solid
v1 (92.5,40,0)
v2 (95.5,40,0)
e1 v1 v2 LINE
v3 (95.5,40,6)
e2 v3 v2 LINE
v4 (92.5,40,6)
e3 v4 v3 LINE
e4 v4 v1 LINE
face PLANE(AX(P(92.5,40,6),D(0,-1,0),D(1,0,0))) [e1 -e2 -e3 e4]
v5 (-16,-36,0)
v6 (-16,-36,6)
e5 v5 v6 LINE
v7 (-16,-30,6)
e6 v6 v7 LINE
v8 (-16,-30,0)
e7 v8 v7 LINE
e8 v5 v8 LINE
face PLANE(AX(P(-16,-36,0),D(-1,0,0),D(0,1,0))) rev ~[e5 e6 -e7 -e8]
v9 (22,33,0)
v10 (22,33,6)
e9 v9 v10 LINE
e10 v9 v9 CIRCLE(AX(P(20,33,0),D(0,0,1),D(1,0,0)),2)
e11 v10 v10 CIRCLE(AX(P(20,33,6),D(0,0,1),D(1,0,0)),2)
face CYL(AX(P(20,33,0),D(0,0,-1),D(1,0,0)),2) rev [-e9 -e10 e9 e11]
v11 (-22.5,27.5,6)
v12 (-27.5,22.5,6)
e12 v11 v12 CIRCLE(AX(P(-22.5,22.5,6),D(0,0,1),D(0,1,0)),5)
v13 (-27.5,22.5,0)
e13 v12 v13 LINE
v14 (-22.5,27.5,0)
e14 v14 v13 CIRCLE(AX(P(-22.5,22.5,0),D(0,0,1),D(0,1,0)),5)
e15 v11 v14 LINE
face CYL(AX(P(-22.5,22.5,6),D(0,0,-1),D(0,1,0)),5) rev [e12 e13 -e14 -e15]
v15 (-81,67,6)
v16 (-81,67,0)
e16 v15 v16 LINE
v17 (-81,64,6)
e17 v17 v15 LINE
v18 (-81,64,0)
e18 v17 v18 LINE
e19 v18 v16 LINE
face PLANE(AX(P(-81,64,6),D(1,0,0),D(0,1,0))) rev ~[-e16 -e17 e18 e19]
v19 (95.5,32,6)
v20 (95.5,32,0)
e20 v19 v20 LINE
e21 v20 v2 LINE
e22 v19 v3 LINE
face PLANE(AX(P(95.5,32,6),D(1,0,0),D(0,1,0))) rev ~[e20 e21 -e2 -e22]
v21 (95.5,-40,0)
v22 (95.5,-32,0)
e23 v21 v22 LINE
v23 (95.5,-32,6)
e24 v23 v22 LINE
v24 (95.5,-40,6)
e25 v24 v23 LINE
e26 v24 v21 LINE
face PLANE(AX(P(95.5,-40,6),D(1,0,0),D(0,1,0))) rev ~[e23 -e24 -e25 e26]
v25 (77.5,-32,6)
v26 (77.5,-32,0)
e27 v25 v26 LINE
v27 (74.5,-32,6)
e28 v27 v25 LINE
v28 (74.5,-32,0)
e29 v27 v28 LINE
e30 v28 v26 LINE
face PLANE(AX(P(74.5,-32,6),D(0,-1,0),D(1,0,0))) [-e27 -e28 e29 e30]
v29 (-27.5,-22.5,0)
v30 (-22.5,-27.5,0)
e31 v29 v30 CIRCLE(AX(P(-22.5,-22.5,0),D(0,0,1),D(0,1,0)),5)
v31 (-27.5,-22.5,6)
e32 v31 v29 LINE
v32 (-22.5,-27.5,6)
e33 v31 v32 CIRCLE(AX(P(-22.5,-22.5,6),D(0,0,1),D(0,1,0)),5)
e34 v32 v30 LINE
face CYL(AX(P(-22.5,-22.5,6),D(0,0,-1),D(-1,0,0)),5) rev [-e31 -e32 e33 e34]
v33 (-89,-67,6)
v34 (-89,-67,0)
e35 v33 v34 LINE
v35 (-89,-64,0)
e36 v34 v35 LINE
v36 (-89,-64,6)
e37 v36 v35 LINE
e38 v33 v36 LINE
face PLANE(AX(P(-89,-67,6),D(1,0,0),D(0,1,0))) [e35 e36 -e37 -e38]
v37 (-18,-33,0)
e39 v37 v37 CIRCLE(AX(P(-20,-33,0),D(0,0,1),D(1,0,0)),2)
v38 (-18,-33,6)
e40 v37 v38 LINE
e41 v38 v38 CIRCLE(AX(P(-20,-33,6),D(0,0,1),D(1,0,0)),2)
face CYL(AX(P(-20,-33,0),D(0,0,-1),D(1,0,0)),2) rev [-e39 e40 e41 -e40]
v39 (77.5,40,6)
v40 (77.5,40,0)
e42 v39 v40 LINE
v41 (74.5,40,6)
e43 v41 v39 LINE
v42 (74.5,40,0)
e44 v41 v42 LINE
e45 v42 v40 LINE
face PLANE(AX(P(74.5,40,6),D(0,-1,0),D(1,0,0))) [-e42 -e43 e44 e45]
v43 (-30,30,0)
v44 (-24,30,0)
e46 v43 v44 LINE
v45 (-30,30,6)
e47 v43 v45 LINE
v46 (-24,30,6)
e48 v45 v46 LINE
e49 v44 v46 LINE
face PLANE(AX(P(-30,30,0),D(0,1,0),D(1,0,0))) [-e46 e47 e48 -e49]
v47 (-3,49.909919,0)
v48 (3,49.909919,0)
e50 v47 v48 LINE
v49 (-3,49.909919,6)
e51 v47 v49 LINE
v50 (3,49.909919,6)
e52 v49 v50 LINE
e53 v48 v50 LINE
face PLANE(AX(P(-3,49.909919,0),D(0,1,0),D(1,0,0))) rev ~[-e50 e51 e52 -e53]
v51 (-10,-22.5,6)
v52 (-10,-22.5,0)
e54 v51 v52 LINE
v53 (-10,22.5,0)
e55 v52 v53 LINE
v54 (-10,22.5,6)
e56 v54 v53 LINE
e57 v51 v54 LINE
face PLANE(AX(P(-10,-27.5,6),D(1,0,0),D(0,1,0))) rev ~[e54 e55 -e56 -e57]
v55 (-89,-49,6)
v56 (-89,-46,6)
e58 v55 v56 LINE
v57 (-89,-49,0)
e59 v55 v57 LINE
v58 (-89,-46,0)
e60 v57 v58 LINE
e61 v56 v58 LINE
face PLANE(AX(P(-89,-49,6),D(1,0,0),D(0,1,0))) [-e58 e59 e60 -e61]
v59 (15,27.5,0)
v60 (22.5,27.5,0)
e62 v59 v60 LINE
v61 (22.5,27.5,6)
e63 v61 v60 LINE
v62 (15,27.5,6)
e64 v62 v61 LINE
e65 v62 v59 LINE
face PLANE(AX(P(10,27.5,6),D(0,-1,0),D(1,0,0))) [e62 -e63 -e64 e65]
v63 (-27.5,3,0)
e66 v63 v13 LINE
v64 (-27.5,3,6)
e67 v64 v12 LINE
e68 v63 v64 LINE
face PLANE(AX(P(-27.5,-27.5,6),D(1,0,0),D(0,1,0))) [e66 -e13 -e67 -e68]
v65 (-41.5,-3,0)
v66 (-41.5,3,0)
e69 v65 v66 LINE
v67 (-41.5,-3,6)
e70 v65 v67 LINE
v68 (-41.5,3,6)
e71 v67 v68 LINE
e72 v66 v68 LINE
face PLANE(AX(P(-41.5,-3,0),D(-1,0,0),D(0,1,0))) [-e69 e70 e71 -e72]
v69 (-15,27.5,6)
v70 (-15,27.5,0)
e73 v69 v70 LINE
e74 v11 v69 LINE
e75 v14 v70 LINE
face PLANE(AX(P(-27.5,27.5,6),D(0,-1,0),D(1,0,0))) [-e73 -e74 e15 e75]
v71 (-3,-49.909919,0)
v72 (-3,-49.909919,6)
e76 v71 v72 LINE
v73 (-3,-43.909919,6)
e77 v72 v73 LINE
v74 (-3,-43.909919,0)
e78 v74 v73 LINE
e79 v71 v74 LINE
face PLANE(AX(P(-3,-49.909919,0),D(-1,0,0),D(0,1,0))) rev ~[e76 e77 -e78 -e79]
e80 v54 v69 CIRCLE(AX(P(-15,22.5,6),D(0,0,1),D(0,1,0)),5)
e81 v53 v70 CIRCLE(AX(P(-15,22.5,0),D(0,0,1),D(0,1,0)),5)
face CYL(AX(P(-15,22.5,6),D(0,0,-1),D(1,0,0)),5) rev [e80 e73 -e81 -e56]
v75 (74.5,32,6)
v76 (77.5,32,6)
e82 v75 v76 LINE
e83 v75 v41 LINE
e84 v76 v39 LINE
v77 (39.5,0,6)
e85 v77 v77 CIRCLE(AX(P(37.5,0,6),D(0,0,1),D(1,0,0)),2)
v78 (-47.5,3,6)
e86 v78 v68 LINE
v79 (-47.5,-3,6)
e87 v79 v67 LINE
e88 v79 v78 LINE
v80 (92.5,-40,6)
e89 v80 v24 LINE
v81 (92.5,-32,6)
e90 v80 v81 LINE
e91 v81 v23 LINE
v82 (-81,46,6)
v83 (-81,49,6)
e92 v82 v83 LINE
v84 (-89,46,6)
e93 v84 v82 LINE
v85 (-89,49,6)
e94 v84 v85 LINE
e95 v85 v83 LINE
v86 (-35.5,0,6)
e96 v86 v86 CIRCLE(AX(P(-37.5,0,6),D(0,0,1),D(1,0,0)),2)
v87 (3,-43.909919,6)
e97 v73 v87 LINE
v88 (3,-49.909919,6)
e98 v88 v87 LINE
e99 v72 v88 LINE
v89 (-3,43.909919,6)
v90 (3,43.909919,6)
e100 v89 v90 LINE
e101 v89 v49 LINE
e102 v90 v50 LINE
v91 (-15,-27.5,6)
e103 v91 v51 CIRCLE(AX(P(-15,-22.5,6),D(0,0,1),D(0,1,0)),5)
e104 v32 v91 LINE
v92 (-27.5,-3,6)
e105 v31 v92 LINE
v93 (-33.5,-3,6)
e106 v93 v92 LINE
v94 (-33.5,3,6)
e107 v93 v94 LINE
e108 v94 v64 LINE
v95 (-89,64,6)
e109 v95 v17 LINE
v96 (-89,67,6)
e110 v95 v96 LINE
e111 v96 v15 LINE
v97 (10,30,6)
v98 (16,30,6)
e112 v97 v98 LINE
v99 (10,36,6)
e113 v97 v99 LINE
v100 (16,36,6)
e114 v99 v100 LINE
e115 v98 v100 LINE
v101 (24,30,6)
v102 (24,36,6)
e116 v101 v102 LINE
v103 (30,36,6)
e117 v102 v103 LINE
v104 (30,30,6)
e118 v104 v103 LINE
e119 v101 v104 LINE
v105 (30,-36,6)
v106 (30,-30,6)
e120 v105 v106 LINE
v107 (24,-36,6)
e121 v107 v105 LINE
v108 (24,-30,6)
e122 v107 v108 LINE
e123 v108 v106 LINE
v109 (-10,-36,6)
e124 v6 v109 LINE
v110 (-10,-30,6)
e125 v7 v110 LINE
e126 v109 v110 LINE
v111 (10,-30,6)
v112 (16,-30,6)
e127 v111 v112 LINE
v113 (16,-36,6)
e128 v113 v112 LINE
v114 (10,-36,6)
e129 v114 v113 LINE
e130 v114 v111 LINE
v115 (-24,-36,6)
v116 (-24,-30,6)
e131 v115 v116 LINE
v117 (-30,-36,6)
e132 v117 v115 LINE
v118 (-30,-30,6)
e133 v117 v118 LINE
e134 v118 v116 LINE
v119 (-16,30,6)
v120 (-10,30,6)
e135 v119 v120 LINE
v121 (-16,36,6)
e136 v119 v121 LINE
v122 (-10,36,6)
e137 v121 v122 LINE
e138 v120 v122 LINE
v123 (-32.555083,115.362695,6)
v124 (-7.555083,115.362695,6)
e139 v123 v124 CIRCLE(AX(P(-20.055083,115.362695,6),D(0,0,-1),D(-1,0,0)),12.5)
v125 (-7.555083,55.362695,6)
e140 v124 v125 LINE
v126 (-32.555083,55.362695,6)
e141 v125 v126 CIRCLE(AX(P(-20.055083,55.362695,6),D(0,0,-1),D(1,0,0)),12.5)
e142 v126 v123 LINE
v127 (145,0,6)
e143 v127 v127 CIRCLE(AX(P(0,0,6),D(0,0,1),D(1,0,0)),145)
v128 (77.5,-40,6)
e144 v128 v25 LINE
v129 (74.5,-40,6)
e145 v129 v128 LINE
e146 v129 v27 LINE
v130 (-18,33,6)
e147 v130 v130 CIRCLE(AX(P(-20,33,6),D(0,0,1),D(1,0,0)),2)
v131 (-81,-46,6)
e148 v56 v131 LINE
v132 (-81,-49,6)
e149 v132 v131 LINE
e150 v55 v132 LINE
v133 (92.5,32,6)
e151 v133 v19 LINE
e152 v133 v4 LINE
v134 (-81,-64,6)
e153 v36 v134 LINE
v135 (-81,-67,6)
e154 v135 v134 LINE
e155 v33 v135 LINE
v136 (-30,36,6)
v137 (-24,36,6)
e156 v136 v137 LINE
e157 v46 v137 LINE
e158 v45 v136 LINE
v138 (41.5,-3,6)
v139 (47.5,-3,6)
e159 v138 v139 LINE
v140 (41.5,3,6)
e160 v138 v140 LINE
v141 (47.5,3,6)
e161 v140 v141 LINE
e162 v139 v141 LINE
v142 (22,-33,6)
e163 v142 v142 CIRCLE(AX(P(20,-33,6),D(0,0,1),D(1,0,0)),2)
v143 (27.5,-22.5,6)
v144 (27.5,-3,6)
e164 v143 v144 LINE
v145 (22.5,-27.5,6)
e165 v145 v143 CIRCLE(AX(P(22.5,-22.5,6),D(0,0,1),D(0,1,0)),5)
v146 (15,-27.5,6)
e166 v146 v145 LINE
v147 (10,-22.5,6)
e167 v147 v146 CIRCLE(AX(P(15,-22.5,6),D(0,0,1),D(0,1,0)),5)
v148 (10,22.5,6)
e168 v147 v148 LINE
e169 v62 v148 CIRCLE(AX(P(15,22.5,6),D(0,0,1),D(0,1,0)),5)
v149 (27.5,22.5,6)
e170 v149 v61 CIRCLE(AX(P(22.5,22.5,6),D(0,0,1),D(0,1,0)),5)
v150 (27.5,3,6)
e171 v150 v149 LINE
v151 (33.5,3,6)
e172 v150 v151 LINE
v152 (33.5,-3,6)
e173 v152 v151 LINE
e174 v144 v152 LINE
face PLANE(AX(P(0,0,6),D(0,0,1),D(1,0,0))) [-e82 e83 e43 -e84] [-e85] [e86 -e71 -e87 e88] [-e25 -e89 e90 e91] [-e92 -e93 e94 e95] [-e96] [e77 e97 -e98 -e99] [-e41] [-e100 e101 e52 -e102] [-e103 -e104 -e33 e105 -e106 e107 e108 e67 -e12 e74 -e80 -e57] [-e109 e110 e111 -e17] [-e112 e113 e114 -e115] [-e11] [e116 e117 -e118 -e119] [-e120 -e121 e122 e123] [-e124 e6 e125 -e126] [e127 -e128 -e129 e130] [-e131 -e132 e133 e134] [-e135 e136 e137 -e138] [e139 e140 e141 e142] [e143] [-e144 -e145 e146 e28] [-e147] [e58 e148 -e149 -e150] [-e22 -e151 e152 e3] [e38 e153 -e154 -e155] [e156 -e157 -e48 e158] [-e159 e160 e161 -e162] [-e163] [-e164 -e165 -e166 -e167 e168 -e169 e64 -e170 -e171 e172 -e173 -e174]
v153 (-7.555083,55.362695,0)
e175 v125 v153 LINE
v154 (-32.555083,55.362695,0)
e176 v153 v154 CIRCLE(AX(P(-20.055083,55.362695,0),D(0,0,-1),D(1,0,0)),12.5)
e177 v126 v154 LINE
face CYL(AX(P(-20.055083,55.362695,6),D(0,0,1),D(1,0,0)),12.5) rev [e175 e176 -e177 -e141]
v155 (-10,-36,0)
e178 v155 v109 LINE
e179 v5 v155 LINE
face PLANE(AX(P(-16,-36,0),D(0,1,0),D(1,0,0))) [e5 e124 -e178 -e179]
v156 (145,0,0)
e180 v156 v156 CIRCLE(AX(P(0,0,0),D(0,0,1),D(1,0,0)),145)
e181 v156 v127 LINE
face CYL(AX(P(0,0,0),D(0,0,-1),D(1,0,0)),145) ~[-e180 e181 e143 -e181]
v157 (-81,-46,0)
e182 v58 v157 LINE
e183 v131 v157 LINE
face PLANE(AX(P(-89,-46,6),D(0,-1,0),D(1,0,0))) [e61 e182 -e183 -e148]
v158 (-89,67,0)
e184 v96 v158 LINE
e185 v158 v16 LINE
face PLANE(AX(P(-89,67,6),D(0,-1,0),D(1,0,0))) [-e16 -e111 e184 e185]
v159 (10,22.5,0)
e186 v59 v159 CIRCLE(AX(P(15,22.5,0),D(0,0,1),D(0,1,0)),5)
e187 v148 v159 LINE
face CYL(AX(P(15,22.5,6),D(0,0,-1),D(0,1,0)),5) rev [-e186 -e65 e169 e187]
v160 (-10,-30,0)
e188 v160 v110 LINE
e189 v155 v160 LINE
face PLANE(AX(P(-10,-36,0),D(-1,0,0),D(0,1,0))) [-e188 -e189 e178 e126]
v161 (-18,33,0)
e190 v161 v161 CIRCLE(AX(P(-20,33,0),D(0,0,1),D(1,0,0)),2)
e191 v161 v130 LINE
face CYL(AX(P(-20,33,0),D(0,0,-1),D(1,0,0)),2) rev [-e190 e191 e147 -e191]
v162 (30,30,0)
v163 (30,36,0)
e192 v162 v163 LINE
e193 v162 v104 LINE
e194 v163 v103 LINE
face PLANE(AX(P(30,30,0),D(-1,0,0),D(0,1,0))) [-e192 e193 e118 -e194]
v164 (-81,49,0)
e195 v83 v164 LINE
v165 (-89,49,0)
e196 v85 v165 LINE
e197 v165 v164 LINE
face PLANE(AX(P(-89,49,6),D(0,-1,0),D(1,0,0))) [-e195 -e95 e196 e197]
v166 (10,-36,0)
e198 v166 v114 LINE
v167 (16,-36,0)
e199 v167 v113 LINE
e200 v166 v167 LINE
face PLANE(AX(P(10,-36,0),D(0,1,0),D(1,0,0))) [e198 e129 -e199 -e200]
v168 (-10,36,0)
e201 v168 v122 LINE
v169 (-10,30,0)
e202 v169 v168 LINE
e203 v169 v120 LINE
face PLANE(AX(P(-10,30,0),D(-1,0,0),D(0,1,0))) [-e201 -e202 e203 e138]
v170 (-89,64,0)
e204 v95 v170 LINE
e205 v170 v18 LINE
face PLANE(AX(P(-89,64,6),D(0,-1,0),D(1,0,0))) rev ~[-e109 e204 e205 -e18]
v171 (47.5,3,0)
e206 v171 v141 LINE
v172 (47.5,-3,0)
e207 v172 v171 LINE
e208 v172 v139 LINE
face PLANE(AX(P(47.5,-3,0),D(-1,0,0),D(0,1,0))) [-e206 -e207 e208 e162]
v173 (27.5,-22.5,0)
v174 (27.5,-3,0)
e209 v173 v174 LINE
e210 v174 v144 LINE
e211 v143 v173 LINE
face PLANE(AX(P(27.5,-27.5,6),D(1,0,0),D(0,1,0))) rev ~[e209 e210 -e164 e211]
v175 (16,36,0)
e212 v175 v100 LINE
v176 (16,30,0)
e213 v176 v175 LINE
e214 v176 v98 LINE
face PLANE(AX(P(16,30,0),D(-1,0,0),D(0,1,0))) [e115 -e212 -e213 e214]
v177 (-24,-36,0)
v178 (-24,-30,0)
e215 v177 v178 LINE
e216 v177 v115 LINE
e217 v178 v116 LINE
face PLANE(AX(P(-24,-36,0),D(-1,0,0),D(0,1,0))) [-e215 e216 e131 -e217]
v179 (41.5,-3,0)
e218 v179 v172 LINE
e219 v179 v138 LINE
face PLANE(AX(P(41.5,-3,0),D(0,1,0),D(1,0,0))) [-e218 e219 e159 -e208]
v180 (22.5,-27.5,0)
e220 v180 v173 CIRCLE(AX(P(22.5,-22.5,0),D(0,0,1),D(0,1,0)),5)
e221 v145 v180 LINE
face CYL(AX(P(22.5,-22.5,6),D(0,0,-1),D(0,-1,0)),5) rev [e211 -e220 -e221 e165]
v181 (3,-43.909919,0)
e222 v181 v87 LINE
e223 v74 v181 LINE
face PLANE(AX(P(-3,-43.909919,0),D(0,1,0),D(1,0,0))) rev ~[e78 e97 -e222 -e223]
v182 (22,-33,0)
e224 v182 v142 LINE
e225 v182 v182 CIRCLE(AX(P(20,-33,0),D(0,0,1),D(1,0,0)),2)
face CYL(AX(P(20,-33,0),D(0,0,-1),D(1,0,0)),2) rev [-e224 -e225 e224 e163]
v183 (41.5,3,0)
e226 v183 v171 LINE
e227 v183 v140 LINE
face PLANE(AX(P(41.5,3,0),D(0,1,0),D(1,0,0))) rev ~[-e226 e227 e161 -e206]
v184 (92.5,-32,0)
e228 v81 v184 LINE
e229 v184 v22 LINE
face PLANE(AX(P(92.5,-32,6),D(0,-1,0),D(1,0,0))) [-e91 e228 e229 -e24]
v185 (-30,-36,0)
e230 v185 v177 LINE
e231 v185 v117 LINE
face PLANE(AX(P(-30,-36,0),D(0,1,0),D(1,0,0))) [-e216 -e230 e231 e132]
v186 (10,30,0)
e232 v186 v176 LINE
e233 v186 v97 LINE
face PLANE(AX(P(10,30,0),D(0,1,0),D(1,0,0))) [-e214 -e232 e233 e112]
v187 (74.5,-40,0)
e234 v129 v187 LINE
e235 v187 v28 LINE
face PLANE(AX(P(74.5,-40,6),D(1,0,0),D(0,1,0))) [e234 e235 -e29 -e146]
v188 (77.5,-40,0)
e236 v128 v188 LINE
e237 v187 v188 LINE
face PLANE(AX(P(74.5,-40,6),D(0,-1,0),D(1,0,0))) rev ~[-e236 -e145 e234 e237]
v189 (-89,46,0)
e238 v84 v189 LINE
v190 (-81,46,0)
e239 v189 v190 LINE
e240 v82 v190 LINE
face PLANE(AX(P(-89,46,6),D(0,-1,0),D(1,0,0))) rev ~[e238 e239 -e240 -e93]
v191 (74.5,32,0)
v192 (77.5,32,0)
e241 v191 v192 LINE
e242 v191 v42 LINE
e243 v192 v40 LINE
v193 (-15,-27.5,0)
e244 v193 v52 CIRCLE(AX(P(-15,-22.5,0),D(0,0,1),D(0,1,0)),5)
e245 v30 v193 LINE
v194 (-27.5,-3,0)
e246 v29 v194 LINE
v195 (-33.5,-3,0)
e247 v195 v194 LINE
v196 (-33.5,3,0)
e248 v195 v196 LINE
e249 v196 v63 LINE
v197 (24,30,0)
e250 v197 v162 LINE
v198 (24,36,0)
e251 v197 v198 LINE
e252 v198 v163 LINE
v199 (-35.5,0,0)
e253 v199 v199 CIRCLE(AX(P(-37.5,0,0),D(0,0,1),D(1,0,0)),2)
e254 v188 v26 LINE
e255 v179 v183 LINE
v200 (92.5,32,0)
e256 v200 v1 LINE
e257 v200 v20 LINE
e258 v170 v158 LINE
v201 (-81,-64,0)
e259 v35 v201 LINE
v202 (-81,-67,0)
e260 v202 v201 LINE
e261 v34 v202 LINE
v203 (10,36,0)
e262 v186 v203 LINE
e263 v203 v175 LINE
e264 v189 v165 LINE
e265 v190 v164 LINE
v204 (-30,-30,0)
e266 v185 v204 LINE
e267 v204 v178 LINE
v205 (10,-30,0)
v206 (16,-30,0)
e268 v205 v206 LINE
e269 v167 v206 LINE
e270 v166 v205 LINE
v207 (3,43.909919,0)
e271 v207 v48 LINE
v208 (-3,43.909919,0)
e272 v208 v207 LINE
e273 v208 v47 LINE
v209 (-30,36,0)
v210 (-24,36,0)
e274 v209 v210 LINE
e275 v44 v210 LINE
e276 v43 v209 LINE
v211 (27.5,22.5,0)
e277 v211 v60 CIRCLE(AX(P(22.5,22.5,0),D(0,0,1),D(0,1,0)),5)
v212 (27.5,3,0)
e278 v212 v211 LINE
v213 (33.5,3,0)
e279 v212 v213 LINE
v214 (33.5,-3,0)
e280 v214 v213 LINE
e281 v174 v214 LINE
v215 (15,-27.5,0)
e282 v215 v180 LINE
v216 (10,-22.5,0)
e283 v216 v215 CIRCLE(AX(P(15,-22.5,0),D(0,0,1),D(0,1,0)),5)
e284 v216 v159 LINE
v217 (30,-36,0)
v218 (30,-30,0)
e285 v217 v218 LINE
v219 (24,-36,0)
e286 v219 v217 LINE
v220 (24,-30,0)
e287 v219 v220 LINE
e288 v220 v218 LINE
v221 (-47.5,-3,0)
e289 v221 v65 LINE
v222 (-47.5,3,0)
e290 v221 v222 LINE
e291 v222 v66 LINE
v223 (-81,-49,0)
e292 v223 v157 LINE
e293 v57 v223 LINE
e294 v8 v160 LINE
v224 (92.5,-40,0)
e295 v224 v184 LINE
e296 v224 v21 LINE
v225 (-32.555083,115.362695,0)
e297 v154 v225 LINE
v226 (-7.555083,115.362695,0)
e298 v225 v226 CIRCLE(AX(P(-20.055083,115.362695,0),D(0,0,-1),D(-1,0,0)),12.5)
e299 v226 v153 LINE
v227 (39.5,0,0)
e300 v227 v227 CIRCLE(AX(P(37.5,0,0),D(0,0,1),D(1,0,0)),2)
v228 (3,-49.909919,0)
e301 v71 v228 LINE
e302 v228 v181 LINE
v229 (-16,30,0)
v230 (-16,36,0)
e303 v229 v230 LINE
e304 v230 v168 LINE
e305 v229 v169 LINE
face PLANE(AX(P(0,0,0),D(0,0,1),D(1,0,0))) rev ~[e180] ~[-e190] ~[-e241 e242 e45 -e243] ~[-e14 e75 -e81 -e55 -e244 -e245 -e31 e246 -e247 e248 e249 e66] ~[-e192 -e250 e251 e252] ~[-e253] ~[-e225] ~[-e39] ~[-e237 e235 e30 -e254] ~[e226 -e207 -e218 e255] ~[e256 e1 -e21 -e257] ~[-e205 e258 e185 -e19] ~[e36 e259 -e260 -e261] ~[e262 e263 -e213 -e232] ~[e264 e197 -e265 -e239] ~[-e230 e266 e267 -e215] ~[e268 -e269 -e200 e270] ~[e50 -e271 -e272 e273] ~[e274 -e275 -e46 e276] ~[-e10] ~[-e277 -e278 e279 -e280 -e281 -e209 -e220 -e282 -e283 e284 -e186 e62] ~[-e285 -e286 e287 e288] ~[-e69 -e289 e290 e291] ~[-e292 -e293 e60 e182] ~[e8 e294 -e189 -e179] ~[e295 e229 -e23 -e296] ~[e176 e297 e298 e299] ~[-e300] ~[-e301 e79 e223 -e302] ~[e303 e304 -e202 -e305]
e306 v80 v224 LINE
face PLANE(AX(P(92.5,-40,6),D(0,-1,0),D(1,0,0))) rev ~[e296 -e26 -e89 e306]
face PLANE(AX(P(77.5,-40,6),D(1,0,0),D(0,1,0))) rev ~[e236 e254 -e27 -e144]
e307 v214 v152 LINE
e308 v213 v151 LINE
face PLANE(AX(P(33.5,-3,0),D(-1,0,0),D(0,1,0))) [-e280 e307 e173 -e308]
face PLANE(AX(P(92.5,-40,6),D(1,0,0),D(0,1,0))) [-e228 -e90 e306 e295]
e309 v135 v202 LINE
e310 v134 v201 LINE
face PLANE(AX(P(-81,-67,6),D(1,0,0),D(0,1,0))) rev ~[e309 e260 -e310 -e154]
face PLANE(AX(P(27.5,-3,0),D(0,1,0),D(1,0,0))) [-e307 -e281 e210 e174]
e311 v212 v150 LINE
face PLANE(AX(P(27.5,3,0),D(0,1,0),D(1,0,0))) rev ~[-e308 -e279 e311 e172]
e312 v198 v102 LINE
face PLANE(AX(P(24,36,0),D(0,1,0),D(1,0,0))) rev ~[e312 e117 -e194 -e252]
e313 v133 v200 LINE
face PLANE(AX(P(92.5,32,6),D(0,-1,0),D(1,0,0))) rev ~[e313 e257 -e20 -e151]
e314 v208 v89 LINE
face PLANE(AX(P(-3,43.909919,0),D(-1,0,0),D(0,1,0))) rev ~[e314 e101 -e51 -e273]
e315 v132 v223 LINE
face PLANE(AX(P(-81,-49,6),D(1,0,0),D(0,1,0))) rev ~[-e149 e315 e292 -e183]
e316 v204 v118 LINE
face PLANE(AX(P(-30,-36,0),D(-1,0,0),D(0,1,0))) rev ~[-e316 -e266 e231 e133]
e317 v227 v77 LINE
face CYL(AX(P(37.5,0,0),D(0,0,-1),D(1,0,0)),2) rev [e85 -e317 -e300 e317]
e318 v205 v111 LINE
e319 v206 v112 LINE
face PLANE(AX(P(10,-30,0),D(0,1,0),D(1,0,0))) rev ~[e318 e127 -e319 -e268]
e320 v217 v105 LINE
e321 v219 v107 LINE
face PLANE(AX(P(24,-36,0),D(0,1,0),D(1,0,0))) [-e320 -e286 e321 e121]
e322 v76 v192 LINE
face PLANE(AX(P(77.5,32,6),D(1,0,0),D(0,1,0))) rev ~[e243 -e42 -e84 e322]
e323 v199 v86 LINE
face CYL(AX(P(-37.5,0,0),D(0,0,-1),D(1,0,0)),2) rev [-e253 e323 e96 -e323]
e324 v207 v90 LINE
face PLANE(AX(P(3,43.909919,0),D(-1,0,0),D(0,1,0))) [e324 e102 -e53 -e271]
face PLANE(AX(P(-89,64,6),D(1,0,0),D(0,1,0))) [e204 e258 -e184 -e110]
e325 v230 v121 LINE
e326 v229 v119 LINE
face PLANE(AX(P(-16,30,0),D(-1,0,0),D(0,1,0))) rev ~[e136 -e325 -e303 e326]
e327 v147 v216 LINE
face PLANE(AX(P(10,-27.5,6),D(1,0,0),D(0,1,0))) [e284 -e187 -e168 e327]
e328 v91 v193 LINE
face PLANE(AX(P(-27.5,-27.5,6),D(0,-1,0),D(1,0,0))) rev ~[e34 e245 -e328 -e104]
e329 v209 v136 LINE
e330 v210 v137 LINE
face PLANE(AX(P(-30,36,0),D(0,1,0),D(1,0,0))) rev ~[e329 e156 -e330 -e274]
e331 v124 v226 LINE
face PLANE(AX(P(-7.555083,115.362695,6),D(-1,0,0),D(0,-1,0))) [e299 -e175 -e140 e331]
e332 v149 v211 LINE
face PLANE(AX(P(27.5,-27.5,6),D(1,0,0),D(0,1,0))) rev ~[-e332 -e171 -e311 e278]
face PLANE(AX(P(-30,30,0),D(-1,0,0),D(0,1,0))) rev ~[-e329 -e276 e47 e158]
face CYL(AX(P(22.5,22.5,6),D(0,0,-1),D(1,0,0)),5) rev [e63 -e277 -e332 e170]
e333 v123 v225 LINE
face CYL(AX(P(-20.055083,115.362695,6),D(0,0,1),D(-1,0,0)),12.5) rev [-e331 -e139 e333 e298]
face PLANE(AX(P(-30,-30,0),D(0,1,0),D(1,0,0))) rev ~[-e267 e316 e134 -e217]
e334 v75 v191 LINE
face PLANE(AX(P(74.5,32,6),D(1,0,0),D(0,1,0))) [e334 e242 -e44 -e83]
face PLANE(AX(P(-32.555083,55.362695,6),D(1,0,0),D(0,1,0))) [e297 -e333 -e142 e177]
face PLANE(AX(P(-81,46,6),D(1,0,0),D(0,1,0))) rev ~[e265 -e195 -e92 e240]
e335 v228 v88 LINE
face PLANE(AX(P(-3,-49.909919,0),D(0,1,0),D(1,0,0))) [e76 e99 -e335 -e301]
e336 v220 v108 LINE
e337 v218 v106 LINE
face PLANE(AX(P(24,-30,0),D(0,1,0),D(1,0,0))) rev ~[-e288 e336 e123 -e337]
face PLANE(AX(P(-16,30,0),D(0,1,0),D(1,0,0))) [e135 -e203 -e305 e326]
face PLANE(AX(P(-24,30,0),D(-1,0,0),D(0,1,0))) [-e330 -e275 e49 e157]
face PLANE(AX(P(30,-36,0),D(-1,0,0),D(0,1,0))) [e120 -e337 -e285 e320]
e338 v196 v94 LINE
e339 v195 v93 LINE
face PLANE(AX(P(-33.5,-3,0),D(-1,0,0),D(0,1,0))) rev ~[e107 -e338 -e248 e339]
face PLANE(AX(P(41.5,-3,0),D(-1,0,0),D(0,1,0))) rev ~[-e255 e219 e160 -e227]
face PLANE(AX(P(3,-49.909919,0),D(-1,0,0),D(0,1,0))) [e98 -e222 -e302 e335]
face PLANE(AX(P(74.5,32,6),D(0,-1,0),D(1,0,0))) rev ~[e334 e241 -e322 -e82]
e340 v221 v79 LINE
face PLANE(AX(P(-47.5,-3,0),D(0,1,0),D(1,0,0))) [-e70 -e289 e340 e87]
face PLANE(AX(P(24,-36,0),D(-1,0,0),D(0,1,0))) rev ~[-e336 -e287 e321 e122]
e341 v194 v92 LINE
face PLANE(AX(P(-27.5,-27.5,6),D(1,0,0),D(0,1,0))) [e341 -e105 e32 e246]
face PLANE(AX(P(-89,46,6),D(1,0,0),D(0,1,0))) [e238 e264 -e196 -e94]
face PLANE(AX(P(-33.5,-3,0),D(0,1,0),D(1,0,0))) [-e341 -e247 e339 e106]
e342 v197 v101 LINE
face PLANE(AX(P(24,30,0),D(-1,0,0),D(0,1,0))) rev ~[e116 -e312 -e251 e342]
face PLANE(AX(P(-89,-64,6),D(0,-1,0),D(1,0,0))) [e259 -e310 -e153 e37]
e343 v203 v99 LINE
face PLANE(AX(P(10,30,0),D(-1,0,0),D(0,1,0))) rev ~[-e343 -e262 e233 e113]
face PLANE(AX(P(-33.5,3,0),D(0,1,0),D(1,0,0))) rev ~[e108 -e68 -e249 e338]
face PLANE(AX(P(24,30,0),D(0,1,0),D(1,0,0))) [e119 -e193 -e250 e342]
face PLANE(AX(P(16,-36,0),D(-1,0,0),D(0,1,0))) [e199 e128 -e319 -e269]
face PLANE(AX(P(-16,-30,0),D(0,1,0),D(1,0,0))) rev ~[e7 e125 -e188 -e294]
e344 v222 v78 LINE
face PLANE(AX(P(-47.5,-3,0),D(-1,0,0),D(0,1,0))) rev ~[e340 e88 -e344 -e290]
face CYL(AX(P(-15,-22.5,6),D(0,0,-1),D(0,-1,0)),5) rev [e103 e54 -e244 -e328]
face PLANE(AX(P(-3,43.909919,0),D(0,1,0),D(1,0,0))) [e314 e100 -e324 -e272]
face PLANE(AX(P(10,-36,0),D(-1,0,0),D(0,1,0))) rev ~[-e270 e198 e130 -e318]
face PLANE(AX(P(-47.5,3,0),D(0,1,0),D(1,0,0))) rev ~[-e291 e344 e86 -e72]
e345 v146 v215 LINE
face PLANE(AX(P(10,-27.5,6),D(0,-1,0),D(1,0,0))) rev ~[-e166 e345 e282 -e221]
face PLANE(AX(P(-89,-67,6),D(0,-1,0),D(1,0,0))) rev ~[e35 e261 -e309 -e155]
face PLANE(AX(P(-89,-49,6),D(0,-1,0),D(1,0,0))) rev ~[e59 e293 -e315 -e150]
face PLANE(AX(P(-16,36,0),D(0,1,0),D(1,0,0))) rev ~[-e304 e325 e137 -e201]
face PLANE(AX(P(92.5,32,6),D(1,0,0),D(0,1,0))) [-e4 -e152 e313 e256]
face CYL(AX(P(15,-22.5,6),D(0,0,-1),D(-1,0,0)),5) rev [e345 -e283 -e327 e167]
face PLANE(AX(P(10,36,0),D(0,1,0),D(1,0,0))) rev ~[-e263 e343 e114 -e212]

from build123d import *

# Parameters (mm, degrees)
ESQUISSE1_R             = 145
ESQUISSE1_R_2           = 2
ESQUISSE1_W             = 6
ESQUISSE1_H             = 6
BOSS_EXTRU_1_DEPTH      = 6
ESQUISSE2_W             = 17.5
ESQUISSE2_H             = 55
ESQUISSE2_W_2           = 3
ESQUISSE2_H_2           = 8
ESQUISSE2_W_3           = 8
ESQUISSE2_H_3           = 3
ENL_V_MAT_EXTRU_1_DEPTH = 6
CONG_1_R                = 5


with BuildPart() as part:
    # Esquisse1 → Boss.-Extru.1 (new body)
    with BuildSketch(Plane.XY):
        Circle(ESQUISSE1_R)
        with Locations((-37.5, 0)):
            Circle(ESQUISSE1_R_2, mode=Mode.SUBTRACT)
        with Locations((-20, -33)):
            Circle(ESQUISSE1_R_2, mode=Mode.SUBTRACT)
        with Locations((20, -33)):
            Circle(ESQUISSE1_R_2, mode=Mode.SUBTRACT)
        with Locations((20, 33)):
            Circle(ESQUISSE1_R_2, mode=Mode.SUBTRACT)
        with Locations((-20, 33)):
            Circle(ESQUISSE1_R_2, mode=Mode.SUBTRACT)
        with Locations((37.5, 0)):
            Circle(ESQUISSE1_R_2, mode=Mode.SUBTRACT)
        with Locations((0, -46.909918854)):
            Rectangle(ESQUISSE1_W, ESQUISSE1_H, mode=Mode.SUBTRACT)
        with Locations((0, 46.909918854)):
            Rectangle(ESQUISSE1_W, ESQUISSE1_H, mode=Mode.SUBTRACT)
        with Locations((-44.5, 0)):
            Rectangle(ESQUISSE1_W, ESQUISSE1_H, mode=Mode.SUBTRACT)
        with Locations((-30.5, 0)):
            Rectangle(ESQUISSE1_W, ESQUISSE1_H, mode=Mode.SUBTRACT)
        with Locations((-27, -33)):
            Rectangle(ESQUISSE1_W, ESQUISSE1_H, mode=Mode.SUBTRACT)
        with Locations((-13, -33)):
            Rectangle(ESQUISSE1_W, ESQUISSE1_H, mode=Mode.SUBTRACT)
        with Locations((13, -33)):
            Rectangle(ESQUISSE1_W, ESQUISSE1_H, mode=Mode.SUBTRACT)
        with Locations((27, -33)):
            Rectangle(ESQUISSE1_W, ESQUISSE1_H, mode=Mode.SUBTRACT)
        with Locations((13, 33)):
            Rectangle(ESQUISSE1_W, ESQUISSE1_H, mode=Mode.SUBTRACT)
        with Locations((27, 33)):
            Rectangle(ESQUISSE1_W, ESQUISSE1_H, mode=Mode.SUBTRACT)
        with Locations((-27, 33)):
            Rectangle(ESQUISSE1_W, ESQUISSE1_H, mode=Mode.SUBTRACT)
        with Locations((-13, 33)):
            Rectangle(ESQUISSE1_W, ESQUISSE1_H, mode=Mode.SUBTRACT)
        with Locations((30.5, 0)):
            Rectangle(ESQUISSE1_W, ESQUISSE1_H, mode=Mode.SUBTRACT)
        with Locations((44.5, 0)):
            Rectangle(ESQUISSE1_W, ESQUISSE1_H, mode=Mode.SUBTRACT)
    extrude(amount=BOSS_EXTRU_1_DEPTH)

    # Esquisse2 → Enlèv. mat.-Extru.1 (cut)
    with BuildSketch(Plane.XY.offset(6)):
        with Locations((-18.75, 0)):
            Rectangle(ESQUISSE2_W, ESQUISSE2_H)
        with Locations((18.75, 0)):
            Rectangle(ESQUISSE2_W, ESQUISSE2_H)
        with Locations((76, 36)):
            Rectangle(ESQUISSE2_W_2, ESQUISSE2_H_2)
        with Locations((94, 36)):
            Rectangle(ESQUISSE2_W_2, ESQUISSE2_H_2)
        with Locations((76, -36)):
            Rectangle(ESQUISSE2_W_2, ESQUISSE2_H_2)
        with Locations((94, -36)):
            Rectangle(ESQUISSE2_W_2, ESQUISSE2_H_2)
        with Locations((-85, -47.5)):
            Rectangle(ESQUISSE2_W_3, ESQUISSE2_H_3)
        with Locations((-85, 65.5)):
            Rectangle(ESQUISSE2_W_3, ESQUISSE2_H_3)
        with Locations((-85, 47.5)):
            Rectangle(ESQUISSE2_W_3, ESQUISSE2_H_3)
        with Locations((-85, -65.5)):
            Rectangle(ESQUISSE2_W_3, ESQUISSE2_H_3)
        with BuildLine():
            Line((-32.555083478, 55.362694963), (-32.555083478, 115.362694963))
            ThreePointArc((-32.555083478, 115.362694963), (-20.055083478, 127.862694963), (-7.555083478, 115.362694963))
            Line((-7.555083478, 115.362694963), (-7.555083478, 55.362694963))
            ThreePointArc((-7.555083478, 55.362694963), (-20.055083478, 42.862694963), (-32.555083478, 55.362694963))
        make_face()
    extrude(amount=-ENL_V_MAT_EXTRU_1_DEPTH, mode=Mode.SUBTRACT)

    # Congé1
    cong_1_edges = [part.edges().sort_by_distance(p)[0] for p in [
        (27.5, 27.5, 3),
        (10, 27.5, 3),
        (27.5, -27.5, 3),
        (10, -27.5, 3),
        (-27.5, -27.5, 3),
        (-27.5, 27.5, 3),
        (-10, 27.5, 3),
        (-10, -27.5, 3),
    ]]
    fillet(cong_1_edges, radius=CONG_1_R)


solid = part.part
